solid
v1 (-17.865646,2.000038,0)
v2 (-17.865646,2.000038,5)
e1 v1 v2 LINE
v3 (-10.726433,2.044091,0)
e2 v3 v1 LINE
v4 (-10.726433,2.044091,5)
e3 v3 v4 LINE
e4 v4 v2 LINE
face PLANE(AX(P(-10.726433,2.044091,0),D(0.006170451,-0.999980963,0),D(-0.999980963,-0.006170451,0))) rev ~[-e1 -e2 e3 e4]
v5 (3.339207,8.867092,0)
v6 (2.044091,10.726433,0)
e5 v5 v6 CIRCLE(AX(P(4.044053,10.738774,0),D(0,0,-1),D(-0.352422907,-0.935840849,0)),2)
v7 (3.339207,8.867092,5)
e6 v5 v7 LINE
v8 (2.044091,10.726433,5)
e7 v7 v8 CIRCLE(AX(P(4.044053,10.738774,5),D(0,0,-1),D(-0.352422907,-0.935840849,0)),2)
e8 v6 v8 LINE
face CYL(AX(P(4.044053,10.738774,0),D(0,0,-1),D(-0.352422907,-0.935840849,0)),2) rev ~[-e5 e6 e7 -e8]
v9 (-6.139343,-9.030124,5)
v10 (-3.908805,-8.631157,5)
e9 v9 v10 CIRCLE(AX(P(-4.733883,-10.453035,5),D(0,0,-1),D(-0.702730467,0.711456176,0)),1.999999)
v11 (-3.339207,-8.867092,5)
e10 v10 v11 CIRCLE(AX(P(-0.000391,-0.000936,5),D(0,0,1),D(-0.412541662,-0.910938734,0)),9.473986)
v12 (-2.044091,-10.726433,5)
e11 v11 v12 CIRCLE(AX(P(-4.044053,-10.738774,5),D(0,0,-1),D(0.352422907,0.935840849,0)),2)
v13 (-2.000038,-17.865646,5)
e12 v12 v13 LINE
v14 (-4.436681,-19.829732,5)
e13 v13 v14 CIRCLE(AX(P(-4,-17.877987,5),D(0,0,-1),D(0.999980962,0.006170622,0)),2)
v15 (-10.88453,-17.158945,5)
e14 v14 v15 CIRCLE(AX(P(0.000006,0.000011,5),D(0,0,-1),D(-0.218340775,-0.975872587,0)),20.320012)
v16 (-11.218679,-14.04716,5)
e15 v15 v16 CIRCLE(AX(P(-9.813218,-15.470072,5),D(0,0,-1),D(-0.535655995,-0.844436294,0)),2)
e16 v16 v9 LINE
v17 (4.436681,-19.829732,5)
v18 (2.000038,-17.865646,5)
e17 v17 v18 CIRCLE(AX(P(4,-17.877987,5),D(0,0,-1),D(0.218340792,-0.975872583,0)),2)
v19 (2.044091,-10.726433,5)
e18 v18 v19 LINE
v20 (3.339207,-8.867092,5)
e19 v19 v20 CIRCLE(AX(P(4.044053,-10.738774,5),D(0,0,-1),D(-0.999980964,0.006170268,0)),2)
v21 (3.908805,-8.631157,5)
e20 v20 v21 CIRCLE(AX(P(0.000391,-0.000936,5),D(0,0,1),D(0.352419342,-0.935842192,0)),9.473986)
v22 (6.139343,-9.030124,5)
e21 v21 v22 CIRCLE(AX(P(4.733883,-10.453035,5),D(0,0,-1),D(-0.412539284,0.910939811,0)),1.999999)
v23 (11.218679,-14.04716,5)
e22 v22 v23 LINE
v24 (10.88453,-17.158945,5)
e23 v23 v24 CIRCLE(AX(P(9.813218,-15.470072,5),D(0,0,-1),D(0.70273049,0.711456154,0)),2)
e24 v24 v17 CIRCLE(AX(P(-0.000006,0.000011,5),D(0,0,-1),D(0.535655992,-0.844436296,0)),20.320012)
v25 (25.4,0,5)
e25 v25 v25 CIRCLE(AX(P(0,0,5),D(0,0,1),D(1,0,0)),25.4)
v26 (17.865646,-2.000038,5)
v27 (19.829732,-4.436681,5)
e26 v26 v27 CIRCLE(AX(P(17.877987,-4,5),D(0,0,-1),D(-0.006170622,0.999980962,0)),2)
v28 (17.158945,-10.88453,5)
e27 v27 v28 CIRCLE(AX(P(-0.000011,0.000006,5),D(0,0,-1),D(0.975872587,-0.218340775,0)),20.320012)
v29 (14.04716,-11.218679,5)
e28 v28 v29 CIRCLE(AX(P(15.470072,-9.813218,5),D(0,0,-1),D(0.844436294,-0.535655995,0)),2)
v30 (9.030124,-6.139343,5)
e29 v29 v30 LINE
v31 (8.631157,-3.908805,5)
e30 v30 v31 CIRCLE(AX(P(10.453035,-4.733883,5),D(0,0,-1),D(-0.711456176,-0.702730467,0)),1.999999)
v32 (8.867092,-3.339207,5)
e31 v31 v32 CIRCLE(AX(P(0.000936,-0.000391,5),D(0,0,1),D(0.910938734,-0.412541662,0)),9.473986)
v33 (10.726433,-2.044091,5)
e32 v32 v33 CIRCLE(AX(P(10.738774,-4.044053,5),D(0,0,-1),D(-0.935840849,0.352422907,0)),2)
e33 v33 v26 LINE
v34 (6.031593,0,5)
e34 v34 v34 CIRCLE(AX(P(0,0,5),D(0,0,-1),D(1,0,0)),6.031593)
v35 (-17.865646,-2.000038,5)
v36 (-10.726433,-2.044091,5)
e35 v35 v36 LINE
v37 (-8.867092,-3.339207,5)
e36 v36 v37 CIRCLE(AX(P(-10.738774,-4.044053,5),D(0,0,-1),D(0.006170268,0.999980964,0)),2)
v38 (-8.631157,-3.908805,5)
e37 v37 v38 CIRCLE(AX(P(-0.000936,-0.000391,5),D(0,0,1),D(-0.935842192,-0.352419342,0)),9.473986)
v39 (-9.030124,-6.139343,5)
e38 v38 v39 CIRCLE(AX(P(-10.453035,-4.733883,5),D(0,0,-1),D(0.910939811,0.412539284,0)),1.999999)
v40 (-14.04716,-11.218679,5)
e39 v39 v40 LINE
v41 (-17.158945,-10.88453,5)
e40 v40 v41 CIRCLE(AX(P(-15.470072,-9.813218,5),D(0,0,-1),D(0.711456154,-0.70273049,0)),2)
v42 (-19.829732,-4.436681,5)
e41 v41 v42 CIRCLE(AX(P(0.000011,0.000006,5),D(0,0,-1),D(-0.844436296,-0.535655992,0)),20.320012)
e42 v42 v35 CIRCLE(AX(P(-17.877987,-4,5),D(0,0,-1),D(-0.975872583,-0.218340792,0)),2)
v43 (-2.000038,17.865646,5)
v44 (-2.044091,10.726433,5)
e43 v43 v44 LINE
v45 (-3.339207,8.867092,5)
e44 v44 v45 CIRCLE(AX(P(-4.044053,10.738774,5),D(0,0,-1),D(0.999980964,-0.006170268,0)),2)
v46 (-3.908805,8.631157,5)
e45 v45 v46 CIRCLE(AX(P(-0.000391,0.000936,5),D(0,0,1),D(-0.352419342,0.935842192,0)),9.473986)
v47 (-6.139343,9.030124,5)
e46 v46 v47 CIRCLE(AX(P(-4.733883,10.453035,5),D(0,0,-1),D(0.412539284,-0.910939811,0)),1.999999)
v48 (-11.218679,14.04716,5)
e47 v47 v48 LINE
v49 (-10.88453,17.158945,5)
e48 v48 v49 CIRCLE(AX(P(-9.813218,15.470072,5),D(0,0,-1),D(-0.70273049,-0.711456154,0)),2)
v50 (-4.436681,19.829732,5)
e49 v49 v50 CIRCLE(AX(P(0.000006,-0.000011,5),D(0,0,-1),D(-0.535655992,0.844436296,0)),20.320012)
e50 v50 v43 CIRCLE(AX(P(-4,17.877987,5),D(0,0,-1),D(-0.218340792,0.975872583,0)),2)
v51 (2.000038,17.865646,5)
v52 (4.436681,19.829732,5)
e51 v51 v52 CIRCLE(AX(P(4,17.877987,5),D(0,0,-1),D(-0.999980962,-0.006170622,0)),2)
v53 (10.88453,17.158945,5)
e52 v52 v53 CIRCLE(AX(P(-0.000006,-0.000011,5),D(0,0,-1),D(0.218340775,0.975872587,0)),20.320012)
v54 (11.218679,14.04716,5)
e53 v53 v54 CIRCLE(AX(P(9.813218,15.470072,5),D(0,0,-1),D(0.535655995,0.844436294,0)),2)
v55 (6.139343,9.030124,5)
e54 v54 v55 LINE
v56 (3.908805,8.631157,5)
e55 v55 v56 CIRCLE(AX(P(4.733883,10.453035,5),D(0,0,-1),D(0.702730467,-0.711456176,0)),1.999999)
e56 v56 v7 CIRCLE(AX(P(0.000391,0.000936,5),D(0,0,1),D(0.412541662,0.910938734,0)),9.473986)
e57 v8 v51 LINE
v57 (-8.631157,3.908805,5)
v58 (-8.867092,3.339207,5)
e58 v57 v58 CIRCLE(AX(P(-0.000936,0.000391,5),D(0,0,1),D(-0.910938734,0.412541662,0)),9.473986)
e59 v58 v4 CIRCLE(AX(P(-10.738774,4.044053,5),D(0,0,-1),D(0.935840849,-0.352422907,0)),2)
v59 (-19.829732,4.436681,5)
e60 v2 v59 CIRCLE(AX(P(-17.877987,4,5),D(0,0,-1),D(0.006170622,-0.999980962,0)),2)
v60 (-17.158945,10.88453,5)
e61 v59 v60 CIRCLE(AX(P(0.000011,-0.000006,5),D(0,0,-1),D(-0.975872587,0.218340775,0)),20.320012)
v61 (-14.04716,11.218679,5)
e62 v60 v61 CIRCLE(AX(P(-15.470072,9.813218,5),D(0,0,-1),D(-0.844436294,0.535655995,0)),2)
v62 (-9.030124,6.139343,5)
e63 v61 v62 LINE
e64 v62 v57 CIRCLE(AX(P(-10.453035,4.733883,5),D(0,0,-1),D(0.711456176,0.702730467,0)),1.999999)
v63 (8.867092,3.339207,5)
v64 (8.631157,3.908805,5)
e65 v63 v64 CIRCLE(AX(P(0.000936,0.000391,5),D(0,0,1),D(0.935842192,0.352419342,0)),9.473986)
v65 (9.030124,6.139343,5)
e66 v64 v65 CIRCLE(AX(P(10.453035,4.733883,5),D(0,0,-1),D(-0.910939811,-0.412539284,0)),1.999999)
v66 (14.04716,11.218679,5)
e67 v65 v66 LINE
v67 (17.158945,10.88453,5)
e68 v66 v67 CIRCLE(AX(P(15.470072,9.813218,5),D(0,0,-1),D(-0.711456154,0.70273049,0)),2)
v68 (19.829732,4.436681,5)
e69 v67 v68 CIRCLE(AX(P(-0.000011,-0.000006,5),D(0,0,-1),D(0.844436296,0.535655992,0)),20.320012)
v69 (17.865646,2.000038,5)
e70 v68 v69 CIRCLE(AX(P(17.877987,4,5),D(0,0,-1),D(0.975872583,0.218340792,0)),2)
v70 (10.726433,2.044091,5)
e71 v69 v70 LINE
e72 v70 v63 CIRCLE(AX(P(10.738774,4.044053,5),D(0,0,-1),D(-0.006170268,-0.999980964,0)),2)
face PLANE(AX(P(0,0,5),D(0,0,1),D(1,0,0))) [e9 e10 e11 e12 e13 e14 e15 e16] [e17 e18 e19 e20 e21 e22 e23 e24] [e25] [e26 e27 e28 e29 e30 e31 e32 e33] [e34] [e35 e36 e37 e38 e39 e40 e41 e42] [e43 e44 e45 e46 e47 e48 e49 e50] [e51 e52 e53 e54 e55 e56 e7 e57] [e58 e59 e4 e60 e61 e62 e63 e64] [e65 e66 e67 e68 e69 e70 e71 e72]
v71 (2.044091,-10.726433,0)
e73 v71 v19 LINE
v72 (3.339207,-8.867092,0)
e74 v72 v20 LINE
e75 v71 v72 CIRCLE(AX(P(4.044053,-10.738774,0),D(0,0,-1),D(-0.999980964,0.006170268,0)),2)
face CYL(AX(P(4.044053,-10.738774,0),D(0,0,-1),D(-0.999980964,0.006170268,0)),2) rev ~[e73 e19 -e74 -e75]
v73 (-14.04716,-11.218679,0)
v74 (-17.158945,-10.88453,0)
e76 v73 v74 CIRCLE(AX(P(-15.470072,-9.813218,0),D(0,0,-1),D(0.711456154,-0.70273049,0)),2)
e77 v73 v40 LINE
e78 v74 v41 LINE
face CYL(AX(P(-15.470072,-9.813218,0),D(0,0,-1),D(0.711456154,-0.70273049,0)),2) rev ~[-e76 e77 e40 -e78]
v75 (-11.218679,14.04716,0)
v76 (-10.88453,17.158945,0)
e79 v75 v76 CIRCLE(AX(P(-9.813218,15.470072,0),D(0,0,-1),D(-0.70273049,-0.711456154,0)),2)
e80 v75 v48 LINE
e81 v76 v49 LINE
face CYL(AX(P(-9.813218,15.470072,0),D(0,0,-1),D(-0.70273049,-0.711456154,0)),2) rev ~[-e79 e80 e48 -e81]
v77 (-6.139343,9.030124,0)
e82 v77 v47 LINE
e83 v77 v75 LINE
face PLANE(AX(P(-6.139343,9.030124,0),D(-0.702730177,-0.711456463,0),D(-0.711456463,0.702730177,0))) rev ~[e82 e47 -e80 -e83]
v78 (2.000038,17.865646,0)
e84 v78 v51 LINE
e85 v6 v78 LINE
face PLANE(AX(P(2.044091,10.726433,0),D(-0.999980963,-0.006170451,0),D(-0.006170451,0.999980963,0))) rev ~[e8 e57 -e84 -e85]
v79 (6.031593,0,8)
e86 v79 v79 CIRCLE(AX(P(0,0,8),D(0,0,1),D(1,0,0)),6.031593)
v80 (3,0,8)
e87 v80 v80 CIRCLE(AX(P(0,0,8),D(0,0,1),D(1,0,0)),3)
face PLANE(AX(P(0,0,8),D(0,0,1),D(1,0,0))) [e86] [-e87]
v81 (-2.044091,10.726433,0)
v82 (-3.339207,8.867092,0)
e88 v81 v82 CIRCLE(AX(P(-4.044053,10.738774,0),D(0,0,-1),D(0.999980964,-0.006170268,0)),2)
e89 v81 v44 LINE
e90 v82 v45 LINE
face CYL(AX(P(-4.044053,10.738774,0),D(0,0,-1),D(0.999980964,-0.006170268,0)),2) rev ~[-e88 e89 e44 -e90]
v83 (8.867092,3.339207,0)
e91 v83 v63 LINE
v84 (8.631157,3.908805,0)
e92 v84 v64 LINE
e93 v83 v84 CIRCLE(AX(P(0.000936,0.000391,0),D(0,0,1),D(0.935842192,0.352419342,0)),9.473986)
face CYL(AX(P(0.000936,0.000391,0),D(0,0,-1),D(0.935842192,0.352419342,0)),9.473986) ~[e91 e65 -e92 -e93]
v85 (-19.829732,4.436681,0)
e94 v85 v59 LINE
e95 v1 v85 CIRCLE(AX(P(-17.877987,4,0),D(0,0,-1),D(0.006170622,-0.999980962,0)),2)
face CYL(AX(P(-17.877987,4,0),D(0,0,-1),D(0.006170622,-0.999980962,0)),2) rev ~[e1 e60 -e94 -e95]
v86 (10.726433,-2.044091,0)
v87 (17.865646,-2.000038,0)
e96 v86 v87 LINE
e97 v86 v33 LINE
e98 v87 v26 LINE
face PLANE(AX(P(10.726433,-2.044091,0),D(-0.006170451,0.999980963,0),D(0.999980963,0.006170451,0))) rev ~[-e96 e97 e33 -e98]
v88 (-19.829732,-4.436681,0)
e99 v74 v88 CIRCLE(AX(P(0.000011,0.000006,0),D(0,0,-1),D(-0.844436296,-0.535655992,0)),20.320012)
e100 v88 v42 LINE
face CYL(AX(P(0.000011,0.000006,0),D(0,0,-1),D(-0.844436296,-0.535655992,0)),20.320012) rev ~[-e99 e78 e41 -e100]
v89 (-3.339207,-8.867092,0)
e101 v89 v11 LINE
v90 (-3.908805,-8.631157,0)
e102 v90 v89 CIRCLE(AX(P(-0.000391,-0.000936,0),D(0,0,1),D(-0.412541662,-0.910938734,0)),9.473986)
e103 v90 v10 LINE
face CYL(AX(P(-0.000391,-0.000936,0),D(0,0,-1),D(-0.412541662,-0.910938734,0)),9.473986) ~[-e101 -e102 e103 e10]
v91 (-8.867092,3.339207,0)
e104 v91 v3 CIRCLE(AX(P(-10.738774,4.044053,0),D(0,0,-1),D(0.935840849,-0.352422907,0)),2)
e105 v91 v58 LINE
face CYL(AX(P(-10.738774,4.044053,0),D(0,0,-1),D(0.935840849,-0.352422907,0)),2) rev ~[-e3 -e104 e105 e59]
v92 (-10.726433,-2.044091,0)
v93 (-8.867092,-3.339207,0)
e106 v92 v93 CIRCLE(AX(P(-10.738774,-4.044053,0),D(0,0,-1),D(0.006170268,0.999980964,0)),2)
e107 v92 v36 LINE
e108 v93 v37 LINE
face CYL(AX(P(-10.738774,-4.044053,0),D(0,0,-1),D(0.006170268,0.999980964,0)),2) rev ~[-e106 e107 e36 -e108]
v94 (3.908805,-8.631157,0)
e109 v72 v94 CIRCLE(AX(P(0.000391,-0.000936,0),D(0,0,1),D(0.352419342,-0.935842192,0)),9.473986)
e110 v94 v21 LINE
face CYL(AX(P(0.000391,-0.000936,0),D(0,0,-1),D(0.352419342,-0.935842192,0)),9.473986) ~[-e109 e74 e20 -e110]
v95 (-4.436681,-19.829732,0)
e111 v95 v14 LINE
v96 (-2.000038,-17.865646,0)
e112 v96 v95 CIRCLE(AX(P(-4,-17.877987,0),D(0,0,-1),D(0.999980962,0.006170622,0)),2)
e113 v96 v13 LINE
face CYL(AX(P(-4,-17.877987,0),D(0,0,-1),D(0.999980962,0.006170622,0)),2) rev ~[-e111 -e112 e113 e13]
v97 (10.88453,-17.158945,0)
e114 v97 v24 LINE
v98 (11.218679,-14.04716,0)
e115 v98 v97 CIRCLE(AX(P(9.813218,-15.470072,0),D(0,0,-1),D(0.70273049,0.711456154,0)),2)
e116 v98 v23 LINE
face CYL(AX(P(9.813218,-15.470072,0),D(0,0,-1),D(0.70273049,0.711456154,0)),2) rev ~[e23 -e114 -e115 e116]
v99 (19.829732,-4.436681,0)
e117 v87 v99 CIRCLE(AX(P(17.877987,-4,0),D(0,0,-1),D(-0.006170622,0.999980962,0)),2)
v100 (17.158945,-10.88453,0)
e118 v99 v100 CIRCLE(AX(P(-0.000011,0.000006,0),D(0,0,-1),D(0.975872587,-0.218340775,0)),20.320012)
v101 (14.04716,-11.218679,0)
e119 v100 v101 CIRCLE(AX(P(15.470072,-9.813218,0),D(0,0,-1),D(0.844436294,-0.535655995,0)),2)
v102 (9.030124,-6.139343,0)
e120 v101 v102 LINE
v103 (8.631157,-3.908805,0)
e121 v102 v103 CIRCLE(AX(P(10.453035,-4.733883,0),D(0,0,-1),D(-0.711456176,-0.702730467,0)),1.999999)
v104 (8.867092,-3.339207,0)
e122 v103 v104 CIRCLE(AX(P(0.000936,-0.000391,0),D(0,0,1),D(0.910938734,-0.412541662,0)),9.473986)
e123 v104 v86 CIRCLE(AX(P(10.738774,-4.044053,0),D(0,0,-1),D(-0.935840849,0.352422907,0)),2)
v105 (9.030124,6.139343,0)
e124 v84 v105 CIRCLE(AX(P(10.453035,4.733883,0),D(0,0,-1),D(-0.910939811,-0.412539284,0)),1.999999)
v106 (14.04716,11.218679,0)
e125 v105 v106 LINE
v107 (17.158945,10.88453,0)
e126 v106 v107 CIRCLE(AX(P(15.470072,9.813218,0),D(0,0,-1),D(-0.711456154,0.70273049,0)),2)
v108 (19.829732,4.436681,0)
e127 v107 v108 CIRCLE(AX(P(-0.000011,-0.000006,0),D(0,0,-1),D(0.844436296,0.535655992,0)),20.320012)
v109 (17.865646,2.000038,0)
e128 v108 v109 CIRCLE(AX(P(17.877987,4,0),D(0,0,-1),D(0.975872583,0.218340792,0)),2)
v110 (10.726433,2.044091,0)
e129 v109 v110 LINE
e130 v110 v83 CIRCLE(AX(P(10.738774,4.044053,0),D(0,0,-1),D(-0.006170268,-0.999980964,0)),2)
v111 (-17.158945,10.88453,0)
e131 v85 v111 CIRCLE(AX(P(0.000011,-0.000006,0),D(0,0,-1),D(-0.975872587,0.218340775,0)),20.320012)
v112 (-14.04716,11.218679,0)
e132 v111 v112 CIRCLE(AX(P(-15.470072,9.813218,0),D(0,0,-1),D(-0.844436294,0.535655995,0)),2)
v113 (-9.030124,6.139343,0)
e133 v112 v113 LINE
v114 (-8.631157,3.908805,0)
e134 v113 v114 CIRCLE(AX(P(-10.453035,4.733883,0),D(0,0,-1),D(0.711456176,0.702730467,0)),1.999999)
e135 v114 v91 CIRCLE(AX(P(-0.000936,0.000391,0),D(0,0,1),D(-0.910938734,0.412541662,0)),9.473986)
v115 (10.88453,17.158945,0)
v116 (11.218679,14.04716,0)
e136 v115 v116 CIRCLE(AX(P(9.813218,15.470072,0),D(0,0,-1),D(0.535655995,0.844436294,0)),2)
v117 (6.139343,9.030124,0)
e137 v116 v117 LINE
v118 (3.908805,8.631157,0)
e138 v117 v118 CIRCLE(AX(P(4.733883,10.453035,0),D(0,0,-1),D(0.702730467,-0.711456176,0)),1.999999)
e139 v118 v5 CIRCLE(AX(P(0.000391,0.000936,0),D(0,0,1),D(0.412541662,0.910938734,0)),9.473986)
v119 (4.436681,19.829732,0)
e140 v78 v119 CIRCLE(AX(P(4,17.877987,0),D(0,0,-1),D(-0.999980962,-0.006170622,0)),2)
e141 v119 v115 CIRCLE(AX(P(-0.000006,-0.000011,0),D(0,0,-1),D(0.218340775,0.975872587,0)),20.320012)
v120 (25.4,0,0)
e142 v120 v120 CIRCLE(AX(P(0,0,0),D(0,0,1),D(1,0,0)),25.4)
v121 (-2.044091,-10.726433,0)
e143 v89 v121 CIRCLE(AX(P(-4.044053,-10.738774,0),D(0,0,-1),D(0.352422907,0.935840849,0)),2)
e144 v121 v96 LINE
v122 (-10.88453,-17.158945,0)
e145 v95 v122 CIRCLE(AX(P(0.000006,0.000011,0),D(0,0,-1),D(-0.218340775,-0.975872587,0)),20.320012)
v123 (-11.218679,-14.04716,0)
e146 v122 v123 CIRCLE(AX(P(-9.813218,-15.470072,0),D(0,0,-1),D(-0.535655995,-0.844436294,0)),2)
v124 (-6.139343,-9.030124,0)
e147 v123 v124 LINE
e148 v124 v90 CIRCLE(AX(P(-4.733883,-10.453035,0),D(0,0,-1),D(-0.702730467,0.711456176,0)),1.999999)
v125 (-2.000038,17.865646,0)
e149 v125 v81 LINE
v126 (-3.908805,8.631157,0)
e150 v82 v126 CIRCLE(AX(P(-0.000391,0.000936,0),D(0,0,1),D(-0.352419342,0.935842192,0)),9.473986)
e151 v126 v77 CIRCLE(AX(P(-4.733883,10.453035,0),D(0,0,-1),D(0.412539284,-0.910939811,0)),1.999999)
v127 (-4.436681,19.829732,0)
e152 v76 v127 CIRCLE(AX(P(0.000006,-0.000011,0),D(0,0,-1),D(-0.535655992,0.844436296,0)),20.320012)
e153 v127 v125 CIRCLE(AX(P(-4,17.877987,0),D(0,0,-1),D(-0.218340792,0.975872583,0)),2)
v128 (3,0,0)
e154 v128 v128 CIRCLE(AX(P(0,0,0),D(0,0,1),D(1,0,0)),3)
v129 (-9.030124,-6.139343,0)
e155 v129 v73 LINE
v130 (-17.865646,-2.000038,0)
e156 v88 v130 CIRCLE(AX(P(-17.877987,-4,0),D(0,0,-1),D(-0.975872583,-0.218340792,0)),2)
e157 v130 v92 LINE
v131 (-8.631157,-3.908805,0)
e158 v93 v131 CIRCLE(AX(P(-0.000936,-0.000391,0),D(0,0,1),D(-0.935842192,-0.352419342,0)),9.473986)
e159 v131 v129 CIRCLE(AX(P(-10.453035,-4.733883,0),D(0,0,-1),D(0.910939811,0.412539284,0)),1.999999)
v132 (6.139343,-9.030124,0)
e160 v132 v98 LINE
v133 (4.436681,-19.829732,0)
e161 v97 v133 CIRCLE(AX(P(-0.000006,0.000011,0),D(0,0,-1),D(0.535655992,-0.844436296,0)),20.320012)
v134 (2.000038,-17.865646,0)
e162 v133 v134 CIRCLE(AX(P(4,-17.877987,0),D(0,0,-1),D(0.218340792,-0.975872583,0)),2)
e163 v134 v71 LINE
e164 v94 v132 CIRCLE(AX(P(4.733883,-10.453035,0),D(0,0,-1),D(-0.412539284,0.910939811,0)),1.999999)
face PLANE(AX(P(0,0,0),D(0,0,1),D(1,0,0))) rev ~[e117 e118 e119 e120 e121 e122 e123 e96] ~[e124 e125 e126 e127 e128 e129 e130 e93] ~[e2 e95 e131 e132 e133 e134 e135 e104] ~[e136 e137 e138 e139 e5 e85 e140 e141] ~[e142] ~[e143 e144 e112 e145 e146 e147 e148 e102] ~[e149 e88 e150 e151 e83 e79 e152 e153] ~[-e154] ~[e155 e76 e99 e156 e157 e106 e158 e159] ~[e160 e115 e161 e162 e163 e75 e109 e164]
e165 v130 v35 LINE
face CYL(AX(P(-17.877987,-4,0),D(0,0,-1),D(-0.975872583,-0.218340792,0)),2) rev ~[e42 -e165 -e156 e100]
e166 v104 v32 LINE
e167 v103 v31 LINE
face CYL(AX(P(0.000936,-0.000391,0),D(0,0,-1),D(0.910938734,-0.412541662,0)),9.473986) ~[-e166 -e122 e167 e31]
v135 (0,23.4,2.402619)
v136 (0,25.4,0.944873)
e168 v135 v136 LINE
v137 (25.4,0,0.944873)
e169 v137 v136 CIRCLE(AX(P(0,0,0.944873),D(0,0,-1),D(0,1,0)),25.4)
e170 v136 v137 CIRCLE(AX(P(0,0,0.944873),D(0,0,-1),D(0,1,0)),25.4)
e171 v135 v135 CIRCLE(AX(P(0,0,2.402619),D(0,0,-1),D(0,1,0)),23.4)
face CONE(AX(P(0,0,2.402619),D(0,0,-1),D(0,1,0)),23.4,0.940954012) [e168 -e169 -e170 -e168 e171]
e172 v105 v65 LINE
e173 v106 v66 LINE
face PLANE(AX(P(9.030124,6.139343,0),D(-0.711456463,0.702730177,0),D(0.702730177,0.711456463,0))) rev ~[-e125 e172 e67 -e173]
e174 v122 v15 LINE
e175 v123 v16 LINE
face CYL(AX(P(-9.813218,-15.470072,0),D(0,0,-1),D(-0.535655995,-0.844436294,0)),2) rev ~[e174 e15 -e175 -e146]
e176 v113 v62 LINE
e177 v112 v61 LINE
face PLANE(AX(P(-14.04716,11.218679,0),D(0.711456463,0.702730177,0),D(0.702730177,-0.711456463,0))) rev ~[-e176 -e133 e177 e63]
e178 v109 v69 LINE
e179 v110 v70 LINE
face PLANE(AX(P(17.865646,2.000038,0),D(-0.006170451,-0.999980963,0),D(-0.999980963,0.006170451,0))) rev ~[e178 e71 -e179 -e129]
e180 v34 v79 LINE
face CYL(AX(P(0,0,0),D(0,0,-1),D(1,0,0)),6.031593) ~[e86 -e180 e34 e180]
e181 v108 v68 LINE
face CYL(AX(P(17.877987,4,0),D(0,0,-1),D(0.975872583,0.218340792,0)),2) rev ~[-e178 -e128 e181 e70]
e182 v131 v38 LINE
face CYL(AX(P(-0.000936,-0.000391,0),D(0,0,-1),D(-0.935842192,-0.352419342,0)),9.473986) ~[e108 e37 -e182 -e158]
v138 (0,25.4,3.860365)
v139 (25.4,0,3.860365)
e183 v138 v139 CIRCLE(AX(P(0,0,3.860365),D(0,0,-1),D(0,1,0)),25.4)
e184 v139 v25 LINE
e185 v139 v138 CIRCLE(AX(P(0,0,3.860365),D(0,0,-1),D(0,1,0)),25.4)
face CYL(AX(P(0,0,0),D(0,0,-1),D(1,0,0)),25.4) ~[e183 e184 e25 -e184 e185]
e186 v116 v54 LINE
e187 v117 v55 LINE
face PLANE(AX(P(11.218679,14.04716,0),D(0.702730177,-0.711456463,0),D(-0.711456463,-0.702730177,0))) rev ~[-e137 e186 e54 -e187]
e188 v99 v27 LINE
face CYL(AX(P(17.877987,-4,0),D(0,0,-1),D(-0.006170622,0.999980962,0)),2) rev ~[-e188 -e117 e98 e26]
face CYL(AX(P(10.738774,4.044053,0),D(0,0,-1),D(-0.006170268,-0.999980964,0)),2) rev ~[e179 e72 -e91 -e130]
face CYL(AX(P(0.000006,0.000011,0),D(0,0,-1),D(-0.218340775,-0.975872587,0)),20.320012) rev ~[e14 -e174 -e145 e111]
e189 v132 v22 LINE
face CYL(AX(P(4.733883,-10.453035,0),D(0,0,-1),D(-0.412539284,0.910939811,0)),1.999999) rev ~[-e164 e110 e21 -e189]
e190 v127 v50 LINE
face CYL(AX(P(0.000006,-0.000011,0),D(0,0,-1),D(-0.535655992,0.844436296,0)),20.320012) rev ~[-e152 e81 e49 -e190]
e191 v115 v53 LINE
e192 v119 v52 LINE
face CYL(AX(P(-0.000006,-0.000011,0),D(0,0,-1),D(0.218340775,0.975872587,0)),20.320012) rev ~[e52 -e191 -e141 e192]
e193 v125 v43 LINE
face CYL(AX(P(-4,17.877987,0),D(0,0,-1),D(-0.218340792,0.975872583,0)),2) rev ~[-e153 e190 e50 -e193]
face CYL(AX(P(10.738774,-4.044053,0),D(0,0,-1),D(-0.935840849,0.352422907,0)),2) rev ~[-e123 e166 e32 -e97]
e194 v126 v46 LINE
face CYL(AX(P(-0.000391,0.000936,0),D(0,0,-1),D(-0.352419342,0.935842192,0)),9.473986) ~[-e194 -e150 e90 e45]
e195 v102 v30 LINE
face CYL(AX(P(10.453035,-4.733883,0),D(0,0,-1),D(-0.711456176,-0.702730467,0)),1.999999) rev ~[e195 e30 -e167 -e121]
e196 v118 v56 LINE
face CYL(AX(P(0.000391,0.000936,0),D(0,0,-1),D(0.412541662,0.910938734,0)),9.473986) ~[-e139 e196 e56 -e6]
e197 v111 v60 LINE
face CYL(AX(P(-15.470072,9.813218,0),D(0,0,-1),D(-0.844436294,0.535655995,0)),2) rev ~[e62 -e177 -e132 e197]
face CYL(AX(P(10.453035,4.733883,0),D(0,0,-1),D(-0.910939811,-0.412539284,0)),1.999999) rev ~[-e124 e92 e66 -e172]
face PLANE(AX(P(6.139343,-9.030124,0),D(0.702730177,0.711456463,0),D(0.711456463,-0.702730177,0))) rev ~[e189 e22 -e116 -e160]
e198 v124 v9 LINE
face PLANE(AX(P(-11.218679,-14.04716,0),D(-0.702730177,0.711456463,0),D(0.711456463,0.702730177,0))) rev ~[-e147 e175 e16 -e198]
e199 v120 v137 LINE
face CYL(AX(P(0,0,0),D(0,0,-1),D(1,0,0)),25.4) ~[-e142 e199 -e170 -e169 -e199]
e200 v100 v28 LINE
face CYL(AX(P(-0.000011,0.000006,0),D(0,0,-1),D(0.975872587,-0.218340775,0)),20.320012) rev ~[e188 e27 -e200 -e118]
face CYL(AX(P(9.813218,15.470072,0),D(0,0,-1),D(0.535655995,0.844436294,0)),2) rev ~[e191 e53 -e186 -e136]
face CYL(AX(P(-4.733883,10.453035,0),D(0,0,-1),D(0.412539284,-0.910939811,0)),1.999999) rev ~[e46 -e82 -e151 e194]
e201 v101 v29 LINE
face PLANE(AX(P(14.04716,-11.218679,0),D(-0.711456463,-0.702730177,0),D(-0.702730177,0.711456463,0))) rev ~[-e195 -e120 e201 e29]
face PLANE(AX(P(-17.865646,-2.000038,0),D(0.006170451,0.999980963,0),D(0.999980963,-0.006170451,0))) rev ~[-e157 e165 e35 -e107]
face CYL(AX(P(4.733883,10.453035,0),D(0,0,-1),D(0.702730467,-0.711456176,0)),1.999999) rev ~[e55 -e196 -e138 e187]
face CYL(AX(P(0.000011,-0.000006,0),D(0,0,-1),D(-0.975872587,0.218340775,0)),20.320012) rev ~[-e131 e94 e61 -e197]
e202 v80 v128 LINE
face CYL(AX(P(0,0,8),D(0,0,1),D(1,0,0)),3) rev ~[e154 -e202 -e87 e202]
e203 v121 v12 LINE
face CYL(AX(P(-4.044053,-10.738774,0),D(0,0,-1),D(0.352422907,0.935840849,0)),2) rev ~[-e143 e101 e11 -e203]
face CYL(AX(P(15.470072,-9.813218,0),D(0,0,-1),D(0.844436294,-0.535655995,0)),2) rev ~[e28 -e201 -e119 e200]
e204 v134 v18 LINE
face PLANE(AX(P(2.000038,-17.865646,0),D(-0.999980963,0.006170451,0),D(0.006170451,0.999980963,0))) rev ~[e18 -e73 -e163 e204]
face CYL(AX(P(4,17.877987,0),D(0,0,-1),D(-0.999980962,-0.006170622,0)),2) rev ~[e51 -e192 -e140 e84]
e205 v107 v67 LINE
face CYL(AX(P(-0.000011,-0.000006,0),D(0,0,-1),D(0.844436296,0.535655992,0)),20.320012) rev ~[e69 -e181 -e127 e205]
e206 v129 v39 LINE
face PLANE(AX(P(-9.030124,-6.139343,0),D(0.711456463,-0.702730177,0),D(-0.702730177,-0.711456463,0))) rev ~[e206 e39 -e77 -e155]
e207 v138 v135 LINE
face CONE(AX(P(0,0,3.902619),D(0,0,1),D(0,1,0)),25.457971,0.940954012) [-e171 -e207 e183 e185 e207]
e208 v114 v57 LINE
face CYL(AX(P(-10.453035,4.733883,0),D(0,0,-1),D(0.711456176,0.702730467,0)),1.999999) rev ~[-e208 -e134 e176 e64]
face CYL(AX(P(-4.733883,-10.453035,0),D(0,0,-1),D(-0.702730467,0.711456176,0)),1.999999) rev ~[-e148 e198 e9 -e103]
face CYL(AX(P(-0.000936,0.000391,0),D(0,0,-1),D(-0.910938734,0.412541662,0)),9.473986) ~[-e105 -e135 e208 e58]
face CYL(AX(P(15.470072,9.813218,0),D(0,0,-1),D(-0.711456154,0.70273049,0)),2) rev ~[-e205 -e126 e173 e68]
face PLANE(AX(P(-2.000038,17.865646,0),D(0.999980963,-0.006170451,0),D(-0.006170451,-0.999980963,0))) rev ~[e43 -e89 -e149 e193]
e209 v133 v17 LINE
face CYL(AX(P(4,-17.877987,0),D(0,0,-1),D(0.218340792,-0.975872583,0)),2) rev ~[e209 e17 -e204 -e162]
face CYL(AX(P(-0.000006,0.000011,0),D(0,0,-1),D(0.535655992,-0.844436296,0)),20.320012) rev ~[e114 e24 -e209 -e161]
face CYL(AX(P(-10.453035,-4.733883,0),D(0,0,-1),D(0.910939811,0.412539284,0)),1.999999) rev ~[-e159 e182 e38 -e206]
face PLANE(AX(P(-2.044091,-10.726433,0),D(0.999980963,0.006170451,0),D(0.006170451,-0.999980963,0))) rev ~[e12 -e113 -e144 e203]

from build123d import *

# Parameters (mm, degrees)
F0_R     = 25.4
F0_R_2   = 3.125
F1_DEPTH = 5
F2_R     = 6.031593
F3_DEPTH = 8
F4_R     = 3
F5_DEPTH = 8.001


with BuildPart() as f1:
    # F0 (on Top) → F1 (new body)
    with BuildSketch(Plane.XY):
        Circle(F0_R)
        with BuildLine():
            ThreePointArc((-10.88453, -17.158945), (-11.801786, -15.683608), (-11.218679, -14.04716))
            Line((-11.218679, -14.04716), (-6.139343, -9.030124))
            ThreePointArc((-6.139343, -9.030124), (-5.086026, -8.484282), (-3.908805, -8.631157))
            ThreePointArc((-3.908805, -8.631157), (-3.625926, -8.753759), (-3.339207, -8.867092))
            ThreePointArc((-3.339207, -8.867092), (-2.40293, -9.595657), (-2.044091, -10.726433))
            Line((-2.044091, -10.726433), (-2.000038, -17.865646))
            ThreePointArc((-2.000038, -17.865646), (-2.744862, -19.435109), (-4.436681, -19.829732))
            ThreePointArc((-4.436681, -19.829732), (-7.776127, -18.773232), (-10.88453, -17.158945))
        make_face(mode=Mode.SUBTRACT)
        with BuildLine():
            ThreePointArc((-19.829732, -4.436681), (-19.435109, -2.744862), (-17.865646, -2.000038))
            Line((-17.865646, -2.000038), (-10.726433, -2.044091))
            ThreePointArc((-10.726433, -2.044091), (-9.595657, -2.40293), (-8.867092, -3.339207))
            ThreePointArc((-8.867092, -3.339207), (-8.753759, -3.625926), (-8.631157, -3.908805))
            ThreePointArc((-8.631157, -3.908805), (-8.484282, -5.086026), (-9.030124, -6.139343))
            Line((-9.030124, -6.139343), (-14.04716, -11.218679))
            ThreePointArc((-14.04716, -11.218679), (-15.683608, -11.801786), (-17.158945, -10.88453))
            ThreePointArc((-17.158945, -10.88453), (-18.773232, -7.776127), (-19.829732, -4.436681))
        make_face(mode=Mode.SUBTRACT)
        Circle(F0_R_2, mode=Mode.SUBTRACT)
        with BuildLine():
            ThreePointArc((4.436681, -19.829732), (2.744862, -19.435109), (2.000038, -17.865646))
            Line((2.000038, -17.865646), (2.044091, -10.726433))
            ThreePointArc((2.044091, -10.726433), (2.40293, -9.595657), (3.339207, -8.867092))
            ThreePointArc((3.339207, -8.867092), (3.625926, -8.753759), (3.908805, -8.631157))
            ThreePointArc((3.908805, -8.631157), (5.086026, -8.484282), (6.139343, -9.030124))
            Line((6.139343, -9.030124), (11.218679, -14.04716))
            ThreePointArc((11.218679, -14.04716), (11.801786, -15.683608), (10.88453, -17.158945))
            ThreePointArc((10.88453, -17.158945), (7.776127, -18.773232), (4.436681, -19.829732))
        make_face(mode=Mode.SUBTRACT)
        with BuildLine():
            ThreePointArc((17.158945, -10.88453), (15.683608, -11.801786), (14.04716, -11.218679))
            Line((14.04716, -11.218679), (9.030124, -6.139343))
            ThreePointArc((9.030124, -6.139343), (8.484282, -5.086026), (8.631157, -3.908805))
            ThreePointArc((8.631157, -3.908805), (8.753759, -3.625926), (8.867092, -3.339207))
            ThreePointArc((8.867092, -3.339207), (9.595657, -2.40293), (10.726433, -2.044091))
            Line((10.726433, -2.044091), (17.865646, -2.000038))
            ThreePointArc((17.865646, -2.000038), (19.435109, -2.744862), (19.829732, -4.436681))
            ThreePointArc((19.829732, -4.436681), (18.773232, -7.776127), (17.158945, -10.88453))
        make_face(mode=Mode.SUBTRACT)
        with BuildLine():
            ThreePointArc((-17.158945, 10.88453), (-15.683608, 11.801786), (-14.04716, 11.218679))
            Line((-14.04716, 11.218679), (-9.030124, 6.139343))
            ThreePointArc((-9.030124, 6.139343), (-8.484282, 5.086026), (-8.631157, 3.908805))
            ThreePointArc((-8.631157, 3.908805), (-8.753759, 3.625926), (-8.867092, 3.339207))
            ThreePointArc((-8.867092, 3.339207), (-9.595657, 2.40293), (-10.726433, 2.044091))
            Line((-10.726433, 2.044091), (-17.865646, 2.000038))
            ThreePointArc((-17.865646, 2.000038), (-19.435109, 2.744862), (-19.829732, 4.436681))
            ThreePointArc((-19.829732, 4.436681), (-18.773232, 7.776127), (-17.158945, 10.88453))
        make_face(mode=Mode.SUBTRACT)
        with BuildLine():
            ThreePointArc((-10.88453, 17.158945), (-7.776127, 18.773232), (-4.436681, 19.829732))
            ThreePointArc((-4.436681, 19.829732), (-2.744862, 19.435109), (-2.000038, 17.865646))
            Line((-2.000038, 17.865646), (-2.044091, 10.726433))
            ThreePointArc((-2.044091, 10.726433), (-2.40293, 9.595657), (-3.339207, 8.867092))
            ThreePointArc((-3.339207, 8.867092), (-3.625926, 8.753759), (-3.908805, 8.631157))
            ThreePointArc((-3.908805, 8.631157), (-5.086026, 8.484282), (-6.139343, 9.030124))
            Line((-6.139343, 9.030124), (-11.218679, 14.04716))
            ThreePointArc((-11.218679, 14.04716), (-11.801786, 15.683608), (-10.88453, 17.158945))
        make_face(mode=Mode.SUBTRACT)
        with BuildLine():
            ThreePointArc((19.829732, 4.436681), (19.435109, 2.744862), (17.865646, 2.000038))
            Line((17.865646, 2.000038), (10.726433, 2.044091))
            ThreePointArc((10.726433, 2.044091), (9.595657, 2.40293), (8.867092, 3.339207))
            ThreePointArc((8.867092, 3.339207), (8.753759, 3.625926), (8.631157, 3.908805))
            ThreePointArc((8.631157, 3.908805), (8.484282, 5.086026), (9.030124, 6.139343))
            Line((9.030124, 6.139343), (14.04716, 11.218679))
            ThreePointArc((14.04716, 11.218679), (15.683608, 11.801786), (17.158945, 10.88453))
            ThreePointArc((17.158945, 10.88453), (18.773232, 7.776127), (19.829732, 4.436681))
        make_face(mode=Mode.SUBTRACT)
        with BuildLine():
            Line((2.044091, 10.726433), (2.000038, 17.865646))
            ThreePointArc((2.000038, 17.865646), (2.744862, 19.435109), (4.436681, 19.829732))
            ThreePointArc((4.436681, 19.829732), (7.776127, 18.773232), (10.88453, 17.158945))
            ThreePointArc((10.88453, 17.158945), (11.801786, 15.683608), (11.218679, 14.04716))
            Line((11.218679, 14.04716), (6.139343, 9.030124))
            ThreePointArc((6.139343, 9.030124), (5.086026, 8.484282), (3.908805, 8.631157))
            ThreePointArc((3.908805, 8.631157), (3.625926, 8.753759), (3.339207, 8.867092))
            ThreePointArc((3.339207, 8.867092), (2.40293, 9.595657), (2.044091, 10.726433))
        make_face(mode=Mode.SUBTRACT)
    extrude(amount=F1_DEPTH)

    # F2 (on Top) → F3 (join)
    with BuildSketch(Plane.XY):
        Circle(F2_R)
    extrude(amount=F3_DEPTH)

    # F4 (on face) → F5 (cut, through all)
    with BuildSketch(Plane.XY.offset(8)):
        Circle(F4_R)
    extrude(amount=-F5_DEPTH, mode=Mode.SUBTRACT)

    # F6 (on Right) → F7 (revolve, cut)
    with BuildSketch(Plane.YZ):
        Polygon((25.457971, 0.902619), (25.4, 2.402619), (23.4, 2.402619), align=None)
        Polygon((23.4, 2.402619), (25.4, 2.402619), (25.457971, 3.902619), align=None)
    revolve(axis=Axis((0, 0, 8.098846), (0, 0, -1)), mode=Mode.SUBTRACT)


solid = f1.part
